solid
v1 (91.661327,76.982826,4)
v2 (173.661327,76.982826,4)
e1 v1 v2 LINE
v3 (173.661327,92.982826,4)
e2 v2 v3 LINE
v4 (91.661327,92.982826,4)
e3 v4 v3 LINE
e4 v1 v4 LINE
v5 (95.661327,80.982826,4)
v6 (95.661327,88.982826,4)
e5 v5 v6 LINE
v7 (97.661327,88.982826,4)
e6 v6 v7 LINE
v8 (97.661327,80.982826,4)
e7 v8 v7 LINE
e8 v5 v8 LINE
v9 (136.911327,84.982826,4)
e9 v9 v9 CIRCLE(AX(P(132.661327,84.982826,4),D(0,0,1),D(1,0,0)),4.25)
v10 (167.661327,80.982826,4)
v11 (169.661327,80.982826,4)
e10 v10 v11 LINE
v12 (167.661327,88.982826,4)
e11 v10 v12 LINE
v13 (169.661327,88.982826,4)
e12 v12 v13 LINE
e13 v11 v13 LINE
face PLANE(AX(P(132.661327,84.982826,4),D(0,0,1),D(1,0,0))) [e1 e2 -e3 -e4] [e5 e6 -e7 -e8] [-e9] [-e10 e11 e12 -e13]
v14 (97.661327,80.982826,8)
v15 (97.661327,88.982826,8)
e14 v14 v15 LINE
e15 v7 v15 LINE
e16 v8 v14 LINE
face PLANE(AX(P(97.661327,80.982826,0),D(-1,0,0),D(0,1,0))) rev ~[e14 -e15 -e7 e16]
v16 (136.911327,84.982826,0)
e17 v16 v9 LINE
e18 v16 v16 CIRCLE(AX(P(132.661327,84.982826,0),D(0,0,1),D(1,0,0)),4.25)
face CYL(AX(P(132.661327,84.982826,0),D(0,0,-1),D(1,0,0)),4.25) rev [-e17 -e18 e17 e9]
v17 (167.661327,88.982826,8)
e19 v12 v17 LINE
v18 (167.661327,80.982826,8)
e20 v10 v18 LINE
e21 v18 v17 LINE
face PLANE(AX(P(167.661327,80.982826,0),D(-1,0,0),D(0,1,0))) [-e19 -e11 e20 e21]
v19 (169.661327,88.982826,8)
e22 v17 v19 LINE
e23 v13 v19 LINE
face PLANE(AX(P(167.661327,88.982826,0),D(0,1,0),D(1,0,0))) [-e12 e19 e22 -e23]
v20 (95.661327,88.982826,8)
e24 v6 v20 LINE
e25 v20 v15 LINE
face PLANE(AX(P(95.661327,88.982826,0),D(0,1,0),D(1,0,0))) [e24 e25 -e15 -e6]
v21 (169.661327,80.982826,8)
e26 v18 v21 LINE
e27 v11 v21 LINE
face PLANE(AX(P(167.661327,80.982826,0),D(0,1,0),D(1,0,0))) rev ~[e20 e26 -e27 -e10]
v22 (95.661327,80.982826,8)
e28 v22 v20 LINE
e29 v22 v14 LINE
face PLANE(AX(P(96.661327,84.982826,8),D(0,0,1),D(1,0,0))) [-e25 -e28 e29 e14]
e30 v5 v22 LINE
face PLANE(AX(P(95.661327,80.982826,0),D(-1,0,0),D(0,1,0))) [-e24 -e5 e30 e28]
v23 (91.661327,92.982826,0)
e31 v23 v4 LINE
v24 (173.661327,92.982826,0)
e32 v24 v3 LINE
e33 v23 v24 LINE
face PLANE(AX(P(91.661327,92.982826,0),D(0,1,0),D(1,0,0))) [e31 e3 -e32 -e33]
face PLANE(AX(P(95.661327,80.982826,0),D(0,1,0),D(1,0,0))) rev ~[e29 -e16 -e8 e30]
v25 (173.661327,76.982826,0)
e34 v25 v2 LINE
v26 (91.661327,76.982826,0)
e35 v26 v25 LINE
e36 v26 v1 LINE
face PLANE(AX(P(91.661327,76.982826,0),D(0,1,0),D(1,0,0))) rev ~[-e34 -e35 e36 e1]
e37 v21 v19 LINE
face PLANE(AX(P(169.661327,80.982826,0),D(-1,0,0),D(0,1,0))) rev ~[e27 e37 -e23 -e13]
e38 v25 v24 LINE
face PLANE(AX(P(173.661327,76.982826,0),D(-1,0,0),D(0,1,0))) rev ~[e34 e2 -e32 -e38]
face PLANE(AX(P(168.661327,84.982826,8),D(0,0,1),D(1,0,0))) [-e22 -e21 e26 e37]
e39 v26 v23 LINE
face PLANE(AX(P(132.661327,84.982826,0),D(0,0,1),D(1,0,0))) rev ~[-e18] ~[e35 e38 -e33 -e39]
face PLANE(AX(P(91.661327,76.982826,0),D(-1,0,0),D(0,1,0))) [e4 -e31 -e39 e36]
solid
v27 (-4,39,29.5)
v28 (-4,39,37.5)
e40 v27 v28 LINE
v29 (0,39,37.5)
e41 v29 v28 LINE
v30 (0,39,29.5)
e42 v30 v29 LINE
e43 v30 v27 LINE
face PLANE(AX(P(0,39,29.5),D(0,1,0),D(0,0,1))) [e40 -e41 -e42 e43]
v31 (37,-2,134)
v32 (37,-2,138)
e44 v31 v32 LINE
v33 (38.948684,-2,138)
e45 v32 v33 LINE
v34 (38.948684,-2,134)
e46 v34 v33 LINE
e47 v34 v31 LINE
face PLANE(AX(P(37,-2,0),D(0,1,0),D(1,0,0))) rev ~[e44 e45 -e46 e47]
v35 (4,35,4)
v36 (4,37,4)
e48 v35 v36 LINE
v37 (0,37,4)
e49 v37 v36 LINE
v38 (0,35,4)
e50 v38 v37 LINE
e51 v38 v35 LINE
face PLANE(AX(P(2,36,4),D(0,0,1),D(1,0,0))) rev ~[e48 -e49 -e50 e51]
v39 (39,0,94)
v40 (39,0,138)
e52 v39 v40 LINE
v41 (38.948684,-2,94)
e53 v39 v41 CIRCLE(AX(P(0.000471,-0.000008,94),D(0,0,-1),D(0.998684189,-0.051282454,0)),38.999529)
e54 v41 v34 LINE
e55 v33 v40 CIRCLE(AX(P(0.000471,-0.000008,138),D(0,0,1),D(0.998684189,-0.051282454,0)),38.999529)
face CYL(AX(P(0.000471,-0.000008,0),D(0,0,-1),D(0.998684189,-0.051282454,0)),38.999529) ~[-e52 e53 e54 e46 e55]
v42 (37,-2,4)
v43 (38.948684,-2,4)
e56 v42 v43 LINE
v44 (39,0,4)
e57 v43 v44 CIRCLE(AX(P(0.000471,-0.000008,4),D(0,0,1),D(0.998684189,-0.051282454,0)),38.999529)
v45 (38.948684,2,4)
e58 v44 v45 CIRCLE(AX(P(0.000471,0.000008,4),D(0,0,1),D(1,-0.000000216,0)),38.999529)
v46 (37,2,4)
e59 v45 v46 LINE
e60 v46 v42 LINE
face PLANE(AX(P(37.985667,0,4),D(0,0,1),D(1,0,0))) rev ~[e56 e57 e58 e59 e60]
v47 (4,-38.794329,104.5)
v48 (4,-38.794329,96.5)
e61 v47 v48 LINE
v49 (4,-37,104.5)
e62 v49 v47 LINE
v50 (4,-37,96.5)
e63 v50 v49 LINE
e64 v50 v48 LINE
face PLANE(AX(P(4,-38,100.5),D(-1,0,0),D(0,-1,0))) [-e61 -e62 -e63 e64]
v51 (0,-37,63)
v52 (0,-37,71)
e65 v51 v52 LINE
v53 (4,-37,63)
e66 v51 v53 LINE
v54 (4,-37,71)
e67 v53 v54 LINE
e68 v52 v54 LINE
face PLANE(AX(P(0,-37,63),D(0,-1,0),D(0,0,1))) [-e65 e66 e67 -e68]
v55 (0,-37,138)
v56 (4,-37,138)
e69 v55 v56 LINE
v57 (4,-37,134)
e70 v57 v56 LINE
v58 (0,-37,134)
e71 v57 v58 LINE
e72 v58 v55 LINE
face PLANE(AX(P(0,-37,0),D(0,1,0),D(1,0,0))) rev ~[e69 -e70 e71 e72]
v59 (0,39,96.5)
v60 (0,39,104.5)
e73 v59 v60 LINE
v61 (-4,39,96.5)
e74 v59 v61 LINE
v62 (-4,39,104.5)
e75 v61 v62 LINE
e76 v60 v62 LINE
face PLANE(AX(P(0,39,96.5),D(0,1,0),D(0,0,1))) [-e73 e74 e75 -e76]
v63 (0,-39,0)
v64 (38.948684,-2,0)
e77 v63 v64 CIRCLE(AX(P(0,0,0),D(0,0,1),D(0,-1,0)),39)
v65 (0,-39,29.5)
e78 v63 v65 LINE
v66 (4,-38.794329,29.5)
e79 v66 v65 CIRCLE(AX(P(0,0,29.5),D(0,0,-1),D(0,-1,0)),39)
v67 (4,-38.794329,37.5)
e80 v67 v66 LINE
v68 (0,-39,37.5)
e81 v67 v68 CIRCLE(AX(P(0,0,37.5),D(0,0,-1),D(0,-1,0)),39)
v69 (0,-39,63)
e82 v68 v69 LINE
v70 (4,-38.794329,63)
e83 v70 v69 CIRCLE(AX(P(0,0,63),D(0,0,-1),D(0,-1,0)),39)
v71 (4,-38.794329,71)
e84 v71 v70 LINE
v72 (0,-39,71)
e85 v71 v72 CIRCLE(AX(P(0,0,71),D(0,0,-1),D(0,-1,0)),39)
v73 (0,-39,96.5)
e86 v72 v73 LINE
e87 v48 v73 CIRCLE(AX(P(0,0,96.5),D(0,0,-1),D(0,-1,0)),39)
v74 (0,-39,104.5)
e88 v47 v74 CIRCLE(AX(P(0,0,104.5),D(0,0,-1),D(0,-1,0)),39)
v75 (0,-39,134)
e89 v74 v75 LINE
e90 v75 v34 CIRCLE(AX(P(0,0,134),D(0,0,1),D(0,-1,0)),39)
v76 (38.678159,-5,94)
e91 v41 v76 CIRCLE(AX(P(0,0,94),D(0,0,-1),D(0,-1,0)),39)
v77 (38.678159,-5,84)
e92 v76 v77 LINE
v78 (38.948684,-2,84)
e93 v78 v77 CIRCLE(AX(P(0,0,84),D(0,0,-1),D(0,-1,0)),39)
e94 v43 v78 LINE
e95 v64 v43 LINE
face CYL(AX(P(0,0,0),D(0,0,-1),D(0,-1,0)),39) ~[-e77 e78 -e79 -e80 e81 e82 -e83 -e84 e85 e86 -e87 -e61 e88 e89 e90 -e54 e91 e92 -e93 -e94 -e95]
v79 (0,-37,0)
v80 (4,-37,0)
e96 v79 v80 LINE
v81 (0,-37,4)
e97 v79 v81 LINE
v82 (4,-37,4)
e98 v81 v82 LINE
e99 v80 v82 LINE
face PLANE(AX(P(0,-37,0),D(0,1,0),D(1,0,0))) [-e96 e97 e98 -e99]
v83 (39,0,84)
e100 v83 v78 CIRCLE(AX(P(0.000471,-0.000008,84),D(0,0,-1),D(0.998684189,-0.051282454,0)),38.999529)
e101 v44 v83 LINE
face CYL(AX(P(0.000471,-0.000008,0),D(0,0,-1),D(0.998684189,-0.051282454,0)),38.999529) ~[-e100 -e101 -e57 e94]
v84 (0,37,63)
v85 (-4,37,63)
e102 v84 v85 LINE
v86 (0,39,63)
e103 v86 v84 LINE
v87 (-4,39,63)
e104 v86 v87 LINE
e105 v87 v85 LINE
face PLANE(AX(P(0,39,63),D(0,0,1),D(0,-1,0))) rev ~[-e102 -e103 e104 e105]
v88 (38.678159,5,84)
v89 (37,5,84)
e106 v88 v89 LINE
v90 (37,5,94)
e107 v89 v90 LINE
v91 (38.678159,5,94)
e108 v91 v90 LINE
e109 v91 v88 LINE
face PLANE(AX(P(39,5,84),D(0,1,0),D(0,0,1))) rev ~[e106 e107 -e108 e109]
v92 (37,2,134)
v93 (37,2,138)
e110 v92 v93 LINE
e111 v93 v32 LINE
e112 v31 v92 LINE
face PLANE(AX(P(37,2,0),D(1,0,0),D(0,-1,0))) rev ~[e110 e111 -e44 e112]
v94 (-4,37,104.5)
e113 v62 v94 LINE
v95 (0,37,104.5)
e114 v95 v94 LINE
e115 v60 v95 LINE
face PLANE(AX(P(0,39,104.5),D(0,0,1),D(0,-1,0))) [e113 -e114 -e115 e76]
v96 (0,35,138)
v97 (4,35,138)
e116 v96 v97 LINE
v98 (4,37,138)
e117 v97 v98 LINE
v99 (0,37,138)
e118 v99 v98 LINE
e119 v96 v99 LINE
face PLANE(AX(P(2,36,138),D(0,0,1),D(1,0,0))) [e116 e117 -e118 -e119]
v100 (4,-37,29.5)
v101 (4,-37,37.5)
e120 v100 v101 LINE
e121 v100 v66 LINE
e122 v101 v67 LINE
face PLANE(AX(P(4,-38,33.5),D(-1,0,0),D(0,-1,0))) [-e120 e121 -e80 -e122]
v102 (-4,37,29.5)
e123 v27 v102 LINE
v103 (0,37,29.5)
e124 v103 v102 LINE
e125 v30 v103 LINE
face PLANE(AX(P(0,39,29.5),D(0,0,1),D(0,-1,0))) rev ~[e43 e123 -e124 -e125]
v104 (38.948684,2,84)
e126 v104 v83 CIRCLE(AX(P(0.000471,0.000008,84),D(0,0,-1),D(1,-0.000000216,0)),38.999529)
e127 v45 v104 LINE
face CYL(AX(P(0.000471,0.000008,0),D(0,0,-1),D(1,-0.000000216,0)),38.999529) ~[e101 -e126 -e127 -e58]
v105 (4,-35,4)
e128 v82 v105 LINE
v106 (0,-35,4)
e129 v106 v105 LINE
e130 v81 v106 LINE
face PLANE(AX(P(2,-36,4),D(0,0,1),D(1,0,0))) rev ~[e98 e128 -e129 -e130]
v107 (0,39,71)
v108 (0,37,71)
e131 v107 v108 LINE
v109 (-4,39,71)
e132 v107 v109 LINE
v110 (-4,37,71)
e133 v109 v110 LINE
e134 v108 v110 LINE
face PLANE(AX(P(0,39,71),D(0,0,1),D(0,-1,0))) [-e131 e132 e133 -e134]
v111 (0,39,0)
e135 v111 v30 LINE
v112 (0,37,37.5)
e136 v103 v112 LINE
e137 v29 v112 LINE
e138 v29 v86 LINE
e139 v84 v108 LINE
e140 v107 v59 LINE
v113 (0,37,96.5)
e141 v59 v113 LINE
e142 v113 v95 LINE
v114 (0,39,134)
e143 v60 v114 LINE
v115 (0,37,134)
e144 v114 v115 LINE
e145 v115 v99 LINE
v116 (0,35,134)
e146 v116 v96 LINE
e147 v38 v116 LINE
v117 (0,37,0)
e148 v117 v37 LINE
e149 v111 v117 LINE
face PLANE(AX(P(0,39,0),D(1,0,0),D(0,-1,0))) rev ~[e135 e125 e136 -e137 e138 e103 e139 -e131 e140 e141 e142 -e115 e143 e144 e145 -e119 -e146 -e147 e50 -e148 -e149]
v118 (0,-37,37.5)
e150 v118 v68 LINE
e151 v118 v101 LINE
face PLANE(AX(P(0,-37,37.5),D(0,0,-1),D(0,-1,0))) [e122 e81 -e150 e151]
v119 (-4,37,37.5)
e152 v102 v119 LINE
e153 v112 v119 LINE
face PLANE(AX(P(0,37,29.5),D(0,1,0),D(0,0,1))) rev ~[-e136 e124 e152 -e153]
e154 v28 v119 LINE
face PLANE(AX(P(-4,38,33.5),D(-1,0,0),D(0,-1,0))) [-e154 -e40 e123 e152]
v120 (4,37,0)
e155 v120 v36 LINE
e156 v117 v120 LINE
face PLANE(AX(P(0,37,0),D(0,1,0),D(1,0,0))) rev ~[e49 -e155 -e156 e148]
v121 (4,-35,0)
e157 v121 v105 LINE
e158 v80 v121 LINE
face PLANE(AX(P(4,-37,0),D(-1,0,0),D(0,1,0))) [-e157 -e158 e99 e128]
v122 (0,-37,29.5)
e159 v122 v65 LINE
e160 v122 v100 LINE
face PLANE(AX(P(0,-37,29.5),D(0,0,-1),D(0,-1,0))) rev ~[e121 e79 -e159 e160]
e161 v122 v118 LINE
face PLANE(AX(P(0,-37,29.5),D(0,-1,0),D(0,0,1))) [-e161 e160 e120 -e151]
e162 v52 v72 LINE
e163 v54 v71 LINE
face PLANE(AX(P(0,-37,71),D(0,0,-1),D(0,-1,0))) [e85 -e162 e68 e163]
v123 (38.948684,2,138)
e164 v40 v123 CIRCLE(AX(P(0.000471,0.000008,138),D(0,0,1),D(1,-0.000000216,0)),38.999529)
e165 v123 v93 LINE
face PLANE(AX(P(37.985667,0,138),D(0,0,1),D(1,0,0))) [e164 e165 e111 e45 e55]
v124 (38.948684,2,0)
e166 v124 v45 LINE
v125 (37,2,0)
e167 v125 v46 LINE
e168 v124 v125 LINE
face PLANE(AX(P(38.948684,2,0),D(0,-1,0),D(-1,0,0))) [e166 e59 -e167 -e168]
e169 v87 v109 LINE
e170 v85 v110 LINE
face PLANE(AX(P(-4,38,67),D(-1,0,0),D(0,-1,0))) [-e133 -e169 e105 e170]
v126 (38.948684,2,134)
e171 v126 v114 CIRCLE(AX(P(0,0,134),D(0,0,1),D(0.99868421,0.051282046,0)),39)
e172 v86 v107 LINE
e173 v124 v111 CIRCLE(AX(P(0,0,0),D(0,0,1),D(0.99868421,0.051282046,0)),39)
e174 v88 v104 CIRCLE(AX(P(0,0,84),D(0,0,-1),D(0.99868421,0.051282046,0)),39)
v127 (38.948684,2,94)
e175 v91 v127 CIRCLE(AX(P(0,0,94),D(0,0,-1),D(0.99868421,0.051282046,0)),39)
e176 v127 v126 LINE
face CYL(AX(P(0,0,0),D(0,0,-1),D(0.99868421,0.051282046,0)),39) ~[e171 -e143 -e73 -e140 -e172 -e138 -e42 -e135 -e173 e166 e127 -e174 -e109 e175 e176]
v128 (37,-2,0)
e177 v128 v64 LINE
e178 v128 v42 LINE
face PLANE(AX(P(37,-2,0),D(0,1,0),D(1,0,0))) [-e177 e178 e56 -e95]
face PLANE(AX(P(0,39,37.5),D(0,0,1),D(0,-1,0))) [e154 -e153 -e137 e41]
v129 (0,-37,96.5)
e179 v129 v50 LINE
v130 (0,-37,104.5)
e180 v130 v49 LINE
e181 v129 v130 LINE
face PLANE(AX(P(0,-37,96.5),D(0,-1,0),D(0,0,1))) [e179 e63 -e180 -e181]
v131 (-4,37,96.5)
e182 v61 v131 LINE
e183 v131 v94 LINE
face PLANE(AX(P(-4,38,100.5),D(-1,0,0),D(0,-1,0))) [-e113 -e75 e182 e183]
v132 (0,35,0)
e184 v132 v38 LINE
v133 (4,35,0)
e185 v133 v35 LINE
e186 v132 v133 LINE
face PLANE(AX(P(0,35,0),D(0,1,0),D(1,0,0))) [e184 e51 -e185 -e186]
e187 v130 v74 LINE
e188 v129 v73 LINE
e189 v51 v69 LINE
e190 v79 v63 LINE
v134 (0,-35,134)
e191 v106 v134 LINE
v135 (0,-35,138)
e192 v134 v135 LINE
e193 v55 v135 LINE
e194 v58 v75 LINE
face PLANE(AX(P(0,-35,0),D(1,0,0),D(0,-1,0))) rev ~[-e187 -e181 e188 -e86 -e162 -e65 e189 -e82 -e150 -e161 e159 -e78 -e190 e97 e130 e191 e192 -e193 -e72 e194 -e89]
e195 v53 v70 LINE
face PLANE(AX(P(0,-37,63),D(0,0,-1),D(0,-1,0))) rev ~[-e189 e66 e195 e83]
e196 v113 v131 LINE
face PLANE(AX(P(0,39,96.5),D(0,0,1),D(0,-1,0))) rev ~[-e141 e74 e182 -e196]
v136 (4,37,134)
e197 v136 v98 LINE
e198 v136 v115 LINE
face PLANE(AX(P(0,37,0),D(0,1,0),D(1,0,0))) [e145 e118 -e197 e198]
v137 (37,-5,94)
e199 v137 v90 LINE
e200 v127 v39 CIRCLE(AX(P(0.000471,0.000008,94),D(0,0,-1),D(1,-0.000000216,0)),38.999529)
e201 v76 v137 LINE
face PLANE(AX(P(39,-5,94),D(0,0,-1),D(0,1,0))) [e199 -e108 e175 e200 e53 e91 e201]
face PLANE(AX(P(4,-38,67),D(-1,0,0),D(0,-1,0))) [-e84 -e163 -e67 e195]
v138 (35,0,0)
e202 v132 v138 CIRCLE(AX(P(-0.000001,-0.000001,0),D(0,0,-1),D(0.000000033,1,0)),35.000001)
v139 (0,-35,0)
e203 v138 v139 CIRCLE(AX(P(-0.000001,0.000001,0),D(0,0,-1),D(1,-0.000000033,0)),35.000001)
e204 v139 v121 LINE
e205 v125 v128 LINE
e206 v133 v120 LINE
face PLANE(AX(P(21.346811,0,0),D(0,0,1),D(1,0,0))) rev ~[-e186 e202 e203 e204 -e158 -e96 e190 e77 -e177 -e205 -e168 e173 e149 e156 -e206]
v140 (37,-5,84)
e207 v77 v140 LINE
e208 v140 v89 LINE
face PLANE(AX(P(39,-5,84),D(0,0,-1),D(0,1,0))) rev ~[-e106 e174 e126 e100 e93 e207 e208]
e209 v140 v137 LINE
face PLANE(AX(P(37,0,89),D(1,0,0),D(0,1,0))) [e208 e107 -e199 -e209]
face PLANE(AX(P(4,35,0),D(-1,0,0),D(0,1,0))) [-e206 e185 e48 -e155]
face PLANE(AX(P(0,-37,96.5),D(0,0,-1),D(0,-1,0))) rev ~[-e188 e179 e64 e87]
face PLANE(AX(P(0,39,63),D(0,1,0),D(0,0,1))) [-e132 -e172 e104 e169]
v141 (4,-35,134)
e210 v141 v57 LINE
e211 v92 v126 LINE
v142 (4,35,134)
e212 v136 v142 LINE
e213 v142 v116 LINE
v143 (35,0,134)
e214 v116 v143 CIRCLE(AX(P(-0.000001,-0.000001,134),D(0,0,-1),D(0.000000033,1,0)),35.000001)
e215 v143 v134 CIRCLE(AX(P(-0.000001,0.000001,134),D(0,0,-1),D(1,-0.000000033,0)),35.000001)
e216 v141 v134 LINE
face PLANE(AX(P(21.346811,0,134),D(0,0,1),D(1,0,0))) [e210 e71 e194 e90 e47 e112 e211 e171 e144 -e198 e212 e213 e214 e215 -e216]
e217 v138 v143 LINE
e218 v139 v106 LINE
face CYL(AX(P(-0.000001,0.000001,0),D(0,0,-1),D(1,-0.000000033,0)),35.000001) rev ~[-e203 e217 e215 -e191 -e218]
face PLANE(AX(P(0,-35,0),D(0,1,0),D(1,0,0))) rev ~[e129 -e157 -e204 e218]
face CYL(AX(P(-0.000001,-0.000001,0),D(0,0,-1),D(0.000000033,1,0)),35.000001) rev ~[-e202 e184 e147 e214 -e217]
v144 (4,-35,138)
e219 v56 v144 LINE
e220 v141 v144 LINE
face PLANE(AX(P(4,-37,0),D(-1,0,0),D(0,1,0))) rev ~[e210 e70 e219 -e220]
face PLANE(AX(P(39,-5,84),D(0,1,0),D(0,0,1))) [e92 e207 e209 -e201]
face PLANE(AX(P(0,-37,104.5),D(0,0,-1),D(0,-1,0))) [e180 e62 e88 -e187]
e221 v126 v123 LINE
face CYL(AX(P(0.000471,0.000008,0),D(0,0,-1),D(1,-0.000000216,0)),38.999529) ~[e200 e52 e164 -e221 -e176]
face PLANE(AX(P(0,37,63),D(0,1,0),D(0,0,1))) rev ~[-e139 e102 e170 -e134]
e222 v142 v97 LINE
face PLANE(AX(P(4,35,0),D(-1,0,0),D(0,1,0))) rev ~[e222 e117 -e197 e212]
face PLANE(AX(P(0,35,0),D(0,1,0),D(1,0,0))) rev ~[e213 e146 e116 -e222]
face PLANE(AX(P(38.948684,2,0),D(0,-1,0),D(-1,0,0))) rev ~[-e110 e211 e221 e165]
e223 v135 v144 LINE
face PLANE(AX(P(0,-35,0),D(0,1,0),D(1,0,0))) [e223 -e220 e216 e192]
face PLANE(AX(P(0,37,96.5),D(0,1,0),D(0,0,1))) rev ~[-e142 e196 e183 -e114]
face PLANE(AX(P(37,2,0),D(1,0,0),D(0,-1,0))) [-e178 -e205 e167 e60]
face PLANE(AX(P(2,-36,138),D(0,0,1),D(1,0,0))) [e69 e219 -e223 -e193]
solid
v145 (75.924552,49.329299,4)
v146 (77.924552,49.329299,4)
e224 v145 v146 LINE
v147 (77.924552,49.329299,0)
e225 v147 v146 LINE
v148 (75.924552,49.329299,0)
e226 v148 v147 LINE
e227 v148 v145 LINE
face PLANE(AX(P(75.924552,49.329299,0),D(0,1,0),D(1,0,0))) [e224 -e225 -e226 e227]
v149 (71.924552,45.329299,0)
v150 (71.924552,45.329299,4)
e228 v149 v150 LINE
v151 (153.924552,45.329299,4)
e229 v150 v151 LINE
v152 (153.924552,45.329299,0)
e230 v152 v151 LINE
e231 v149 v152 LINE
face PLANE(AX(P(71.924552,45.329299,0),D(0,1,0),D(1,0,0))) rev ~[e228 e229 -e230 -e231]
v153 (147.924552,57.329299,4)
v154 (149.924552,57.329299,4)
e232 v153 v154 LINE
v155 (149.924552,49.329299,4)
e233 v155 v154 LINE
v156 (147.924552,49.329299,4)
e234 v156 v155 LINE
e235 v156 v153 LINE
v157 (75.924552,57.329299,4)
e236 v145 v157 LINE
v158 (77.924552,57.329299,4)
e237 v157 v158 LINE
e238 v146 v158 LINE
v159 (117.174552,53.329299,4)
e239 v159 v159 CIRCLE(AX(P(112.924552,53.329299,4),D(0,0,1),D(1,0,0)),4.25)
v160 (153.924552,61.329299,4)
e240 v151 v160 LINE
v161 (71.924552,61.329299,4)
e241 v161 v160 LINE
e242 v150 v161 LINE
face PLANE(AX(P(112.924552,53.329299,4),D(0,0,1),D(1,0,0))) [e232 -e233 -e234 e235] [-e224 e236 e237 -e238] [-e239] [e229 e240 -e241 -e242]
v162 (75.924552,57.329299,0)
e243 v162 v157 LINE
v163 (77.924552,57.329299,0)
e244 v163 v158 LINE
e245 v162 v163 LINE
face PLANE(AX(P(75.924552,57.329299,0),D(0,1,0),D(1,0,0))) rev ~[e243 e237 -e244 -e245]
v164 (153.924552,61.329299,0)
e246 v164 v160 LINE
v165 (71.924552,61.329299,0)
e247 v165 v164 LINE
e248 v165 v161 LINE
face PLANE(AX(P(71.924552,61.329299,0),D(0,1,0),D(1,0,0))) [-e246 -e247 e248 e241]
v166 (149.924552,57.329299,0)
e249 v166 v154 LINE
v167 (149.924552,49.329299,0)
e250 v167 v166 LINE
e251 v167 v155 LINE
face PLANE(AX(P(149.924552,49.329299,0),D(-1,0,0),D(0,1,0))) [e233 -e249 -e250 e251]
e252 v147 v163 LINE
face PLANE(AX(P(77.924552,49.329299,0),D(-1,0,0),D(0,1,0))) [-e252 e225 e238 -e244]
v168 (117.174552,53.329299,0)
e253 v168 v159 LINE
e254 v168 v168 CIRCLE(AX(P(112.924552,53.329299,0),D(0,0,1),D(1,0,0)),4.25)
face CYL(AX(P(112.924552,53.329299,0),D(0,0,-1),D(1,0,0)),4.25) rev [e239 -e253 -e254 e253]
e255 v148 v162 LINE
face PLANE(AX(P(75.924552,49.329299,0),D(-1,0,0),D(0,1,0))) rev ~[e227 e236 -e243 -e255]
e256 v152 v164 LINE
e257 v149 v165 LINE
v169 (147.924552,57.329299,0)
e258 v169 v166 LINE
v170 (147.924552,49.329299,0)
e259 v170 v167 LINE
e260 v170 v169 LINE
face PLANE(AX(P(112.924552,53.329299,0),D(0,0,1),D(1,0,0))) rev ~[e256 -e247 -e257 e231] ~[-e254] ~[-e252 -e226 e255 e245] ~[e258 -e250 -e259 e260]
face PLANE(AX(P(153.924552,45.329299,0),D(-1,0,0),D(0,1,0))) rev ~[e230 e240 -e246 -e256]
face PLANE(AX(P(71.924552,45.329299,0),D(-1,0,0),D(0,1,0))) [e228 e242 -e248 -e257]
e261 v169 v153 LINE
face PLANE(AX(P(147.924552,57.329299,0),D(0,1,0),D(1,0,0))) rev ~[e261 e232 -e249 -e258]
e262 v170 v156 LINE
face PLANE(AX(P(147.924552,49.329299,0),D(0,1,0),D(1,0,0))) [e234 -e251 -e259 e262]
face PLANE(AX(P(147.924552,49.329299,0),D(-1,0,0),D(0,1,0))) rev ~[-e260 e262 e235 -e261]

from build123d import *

# Parameters (mm, degrees)
F0_W      = 4
F0_H      = 2
F1_DEPTH  = 134
F2_DEPTH  = 138
F3_DEPTH  = 4
F4_DEPTH  = 4
F5_W      = 2
F5_H      = 8
F6_DEPTH  = 4
F7_DEPTH  = 4
F9_W      = 10
F9_H      = 10
F10_DEPTH = 2
F11_W     = 82
F11_H     = 16
F11_W_2   = 2
F11_H_2   = 8
F11_R     = 4.25
F12_DEPTH = 4
F13_DEPTH = 4
F14_DEPTH = 8


with BuildPart() as f1:
    # F0 (on Top) → F1 (new body)
    with BuildSketch(Plane.XY):
        with BuildLine():
            ThreePointArc((0, 35), (24.748737, 24.748737), (35, 0))
            ThreePointArc((35, 0), (24.748737, -24.748737), (0, -35))
            Line((0, -35), (4, -35))
            Line((4, -35), (4, -37))
            Line((4, -37), (0, -37))
            Line((0, -37), (0, -39))
            ThreePointArc((0, -39), (26.860752, -28.275431), (38.948684, -2))
            Line((38.948684, -2), (37, -2))
            Line((37, -2), (37, 2))
            Line((37, 2), (38.948684, 2))
            ThreePointArc((38.948684, 2), (26.860752, 28.275431), (0, 39))
            Line((0, 39), (0, 37))
            Line((0, 37), (4, 37))
            Line((4, 37), (4, 35))
            Line((4, 35), (0, 35))
        make_face()
        with Locations((2, -36)):
            Rectangle(F0_W, F0_H)
        with Locations((2, 36)):
            Rectangle(F0_W, F0_H)
        with BuildLine():
            ThreePointArc((39, 0), (38.987169, 1.000329), (38.948684, 2))
            Line((38.948684, 2), (37, 2))
            Line((37, 2), (37, -2))
            Line((37, -2), (38.948684, -2))
            ThreePointArc((38.948684, -2), (38.987169, -1.000329), (39, 0))
        make_face()
    extrude(amount=F1_DEPTH)

    # F0 (on Top) → F2 (join)
    with BuildSketch(Plane.XY):
        with Locations((2, -36)):
            Rectangle(F0_W, F0_H)
        with BuildLine():
            ThreePointArc((39, 0), (38.987169, 1.000329), (38.948684, 2))
            Line((38.948684, 2), (37, 2))
            Line((37, 2), (37, -2))
            Line((37, -2), (38.948684, -2))
            ThreePointArc((38.948684, -2), (38.987169, -1.000329), (39, 0))
        make_face()
        with Locations((2, 36)):
            Rectangle(F0_W, F0_H)
    extrude(amount=F2_DEPTH)

    # F0 (on Top) → F3 (cut)
    with BuildSketch(Plane.XY):
        with Locations((2, -36)):
            Rectangle(F0_W, F0_H)
        with BuildLine():
            ThreePointArc((39, 0), (38.987169, 1.000329), (38.948684, 2))
            Line((38.948684, 2), (37, 2))
            Line((37, 2), (37, -2))
            Line((37, -2), (38.948684, -2))
            ThreePointArc((38.948684, -2), (38.987169, -1.000329), (39, 0))
        make_face()
        with Locations((2, 36)):
            Rectangle(F0_W, F0_H)
    extrude(amount=-F3_DEPTH, mode=Mode.SUBTRACT)

    # F0 (on Top) → F4 (cut)
    with BuildSketch(Plane.XY):
        with Locations((2, -36)):
            Rectangle(F0_W, F0_H)
        with BuildLine():
            ThreePointArc((39, 0), (38.987169, 1.000329), (38.948684, 2))
            Line((38.948684, 2), (37, 2))
            Line((37, 2), (37, -2))
            Line((37, -2), (38.948684, -2))
            ThreePointArc((38.948684, -2), (38.987169, -1.000329), (39, 0))
        make_face()
        with Locations((2, 36)):
            Rectangle(F0_W, F0_H)
    extrude(amount=F4_DEPTH, mode=Mode.SUBTRACT)

    # F5 (on face) → F6 (join)
    with BuildSketch(Plane(origin=(0, 0, 0), x_dir=(0, -1, 0), z_dir=(-1, 0, 0))):
        with Locations((-38, 100.5)):
            Rectangle(F5_W, F5_H)
        with Locations((-38, 67)):
            Rectangle(F5_W, F5_H)
        with Locations((-38, 33.5)):
            Rectangle(F5_W, F5_H)
    extrude(amount=F6_DEPTH)

    # F5 (on face) → F7 (cut)
    with BuildSketch(Plane(origin=(0, 0, 0), x_dir=(0, -1, 0), z_dir=(-1, 0, 0))):
        with Locations((38, 100.5)):
            Rectangle(F5_W, F5_H)
        with Locations((38, 67)):
            Rectangle(F5_W, F5_H)
        with Locations((38, 33.5)):
            Rectangle(F5_W, F5_H)
    extrude(amount=-F7_DEPTH, mode=Mode.SUBTRACT)

    # F9 (on offset) → F10 (cut)
    with BuildSketch(Plane.YZ.offset(39)):
        with Locations((0, 89)):
            Rectangle(F9_W, F9_H)
    extrude(amount=-F10_DEPTH, mode=Mode.SUBTRACT)


with BuildPart() as f12:
    # F11 (on Top) → F12 (new body)
    with BuildSketch(Plane.XY):
        with Locations((112.924552, 53.329299)):
            Rectangle(F11_W, F11_H)
        with Locations((76.924552, 53.329299)):
            Rectangle(F11_W_2, F11_H_2, mode=Mode.SUBTRACT)
        with Locations((112.924552, 53.329299)):
            Circle(F11_R, mode=Mode.SUBTRACT)
        with Locations((148.924552, 53.329299)):
            Rectangle(F11_W_2, F11_H_2, mode=Mode.SUBTRACT)
    extrude(amount=F12_DEPTH)


with BuildPart() as f13:
    # F11 (on Top) → F13 (new body)
    with BuildSketch(Plane.XY):
        with Locations((132.661327, 84.982826)):
            Rectangle(F11_W, F11_H)
        with Locations((96.661327, 84.982826)):
            Rectangle(F11_W_2, F11_H_2, mode=Mode.SUBTRACT)
        with Locations((132.661327, 84.982826)):
            Circle(F11_R, mode=Mode.SUBTRACT)
        with Locations((168.661327, 84.982826)):
            Rectangle(F11_W_2, F11_H_2, mode=Mode.SUBTRACT)
    extrude(amount=F13_DEPTH)

    # F11 (on Top) → F14 (join)
    with BuildSketch(Plane.XY):
        with Locations((168.661327, 84.982826)):
            Rectangle(F11_W_2, F11_H_2)
        with Locations((96.661327, 84.982826)):
            Rectangle(F11_W_2, F11_H_2)
    extrude(amount=F14_DEPTH)


solid = Compound([f1.part, f12.part, f13.part])
